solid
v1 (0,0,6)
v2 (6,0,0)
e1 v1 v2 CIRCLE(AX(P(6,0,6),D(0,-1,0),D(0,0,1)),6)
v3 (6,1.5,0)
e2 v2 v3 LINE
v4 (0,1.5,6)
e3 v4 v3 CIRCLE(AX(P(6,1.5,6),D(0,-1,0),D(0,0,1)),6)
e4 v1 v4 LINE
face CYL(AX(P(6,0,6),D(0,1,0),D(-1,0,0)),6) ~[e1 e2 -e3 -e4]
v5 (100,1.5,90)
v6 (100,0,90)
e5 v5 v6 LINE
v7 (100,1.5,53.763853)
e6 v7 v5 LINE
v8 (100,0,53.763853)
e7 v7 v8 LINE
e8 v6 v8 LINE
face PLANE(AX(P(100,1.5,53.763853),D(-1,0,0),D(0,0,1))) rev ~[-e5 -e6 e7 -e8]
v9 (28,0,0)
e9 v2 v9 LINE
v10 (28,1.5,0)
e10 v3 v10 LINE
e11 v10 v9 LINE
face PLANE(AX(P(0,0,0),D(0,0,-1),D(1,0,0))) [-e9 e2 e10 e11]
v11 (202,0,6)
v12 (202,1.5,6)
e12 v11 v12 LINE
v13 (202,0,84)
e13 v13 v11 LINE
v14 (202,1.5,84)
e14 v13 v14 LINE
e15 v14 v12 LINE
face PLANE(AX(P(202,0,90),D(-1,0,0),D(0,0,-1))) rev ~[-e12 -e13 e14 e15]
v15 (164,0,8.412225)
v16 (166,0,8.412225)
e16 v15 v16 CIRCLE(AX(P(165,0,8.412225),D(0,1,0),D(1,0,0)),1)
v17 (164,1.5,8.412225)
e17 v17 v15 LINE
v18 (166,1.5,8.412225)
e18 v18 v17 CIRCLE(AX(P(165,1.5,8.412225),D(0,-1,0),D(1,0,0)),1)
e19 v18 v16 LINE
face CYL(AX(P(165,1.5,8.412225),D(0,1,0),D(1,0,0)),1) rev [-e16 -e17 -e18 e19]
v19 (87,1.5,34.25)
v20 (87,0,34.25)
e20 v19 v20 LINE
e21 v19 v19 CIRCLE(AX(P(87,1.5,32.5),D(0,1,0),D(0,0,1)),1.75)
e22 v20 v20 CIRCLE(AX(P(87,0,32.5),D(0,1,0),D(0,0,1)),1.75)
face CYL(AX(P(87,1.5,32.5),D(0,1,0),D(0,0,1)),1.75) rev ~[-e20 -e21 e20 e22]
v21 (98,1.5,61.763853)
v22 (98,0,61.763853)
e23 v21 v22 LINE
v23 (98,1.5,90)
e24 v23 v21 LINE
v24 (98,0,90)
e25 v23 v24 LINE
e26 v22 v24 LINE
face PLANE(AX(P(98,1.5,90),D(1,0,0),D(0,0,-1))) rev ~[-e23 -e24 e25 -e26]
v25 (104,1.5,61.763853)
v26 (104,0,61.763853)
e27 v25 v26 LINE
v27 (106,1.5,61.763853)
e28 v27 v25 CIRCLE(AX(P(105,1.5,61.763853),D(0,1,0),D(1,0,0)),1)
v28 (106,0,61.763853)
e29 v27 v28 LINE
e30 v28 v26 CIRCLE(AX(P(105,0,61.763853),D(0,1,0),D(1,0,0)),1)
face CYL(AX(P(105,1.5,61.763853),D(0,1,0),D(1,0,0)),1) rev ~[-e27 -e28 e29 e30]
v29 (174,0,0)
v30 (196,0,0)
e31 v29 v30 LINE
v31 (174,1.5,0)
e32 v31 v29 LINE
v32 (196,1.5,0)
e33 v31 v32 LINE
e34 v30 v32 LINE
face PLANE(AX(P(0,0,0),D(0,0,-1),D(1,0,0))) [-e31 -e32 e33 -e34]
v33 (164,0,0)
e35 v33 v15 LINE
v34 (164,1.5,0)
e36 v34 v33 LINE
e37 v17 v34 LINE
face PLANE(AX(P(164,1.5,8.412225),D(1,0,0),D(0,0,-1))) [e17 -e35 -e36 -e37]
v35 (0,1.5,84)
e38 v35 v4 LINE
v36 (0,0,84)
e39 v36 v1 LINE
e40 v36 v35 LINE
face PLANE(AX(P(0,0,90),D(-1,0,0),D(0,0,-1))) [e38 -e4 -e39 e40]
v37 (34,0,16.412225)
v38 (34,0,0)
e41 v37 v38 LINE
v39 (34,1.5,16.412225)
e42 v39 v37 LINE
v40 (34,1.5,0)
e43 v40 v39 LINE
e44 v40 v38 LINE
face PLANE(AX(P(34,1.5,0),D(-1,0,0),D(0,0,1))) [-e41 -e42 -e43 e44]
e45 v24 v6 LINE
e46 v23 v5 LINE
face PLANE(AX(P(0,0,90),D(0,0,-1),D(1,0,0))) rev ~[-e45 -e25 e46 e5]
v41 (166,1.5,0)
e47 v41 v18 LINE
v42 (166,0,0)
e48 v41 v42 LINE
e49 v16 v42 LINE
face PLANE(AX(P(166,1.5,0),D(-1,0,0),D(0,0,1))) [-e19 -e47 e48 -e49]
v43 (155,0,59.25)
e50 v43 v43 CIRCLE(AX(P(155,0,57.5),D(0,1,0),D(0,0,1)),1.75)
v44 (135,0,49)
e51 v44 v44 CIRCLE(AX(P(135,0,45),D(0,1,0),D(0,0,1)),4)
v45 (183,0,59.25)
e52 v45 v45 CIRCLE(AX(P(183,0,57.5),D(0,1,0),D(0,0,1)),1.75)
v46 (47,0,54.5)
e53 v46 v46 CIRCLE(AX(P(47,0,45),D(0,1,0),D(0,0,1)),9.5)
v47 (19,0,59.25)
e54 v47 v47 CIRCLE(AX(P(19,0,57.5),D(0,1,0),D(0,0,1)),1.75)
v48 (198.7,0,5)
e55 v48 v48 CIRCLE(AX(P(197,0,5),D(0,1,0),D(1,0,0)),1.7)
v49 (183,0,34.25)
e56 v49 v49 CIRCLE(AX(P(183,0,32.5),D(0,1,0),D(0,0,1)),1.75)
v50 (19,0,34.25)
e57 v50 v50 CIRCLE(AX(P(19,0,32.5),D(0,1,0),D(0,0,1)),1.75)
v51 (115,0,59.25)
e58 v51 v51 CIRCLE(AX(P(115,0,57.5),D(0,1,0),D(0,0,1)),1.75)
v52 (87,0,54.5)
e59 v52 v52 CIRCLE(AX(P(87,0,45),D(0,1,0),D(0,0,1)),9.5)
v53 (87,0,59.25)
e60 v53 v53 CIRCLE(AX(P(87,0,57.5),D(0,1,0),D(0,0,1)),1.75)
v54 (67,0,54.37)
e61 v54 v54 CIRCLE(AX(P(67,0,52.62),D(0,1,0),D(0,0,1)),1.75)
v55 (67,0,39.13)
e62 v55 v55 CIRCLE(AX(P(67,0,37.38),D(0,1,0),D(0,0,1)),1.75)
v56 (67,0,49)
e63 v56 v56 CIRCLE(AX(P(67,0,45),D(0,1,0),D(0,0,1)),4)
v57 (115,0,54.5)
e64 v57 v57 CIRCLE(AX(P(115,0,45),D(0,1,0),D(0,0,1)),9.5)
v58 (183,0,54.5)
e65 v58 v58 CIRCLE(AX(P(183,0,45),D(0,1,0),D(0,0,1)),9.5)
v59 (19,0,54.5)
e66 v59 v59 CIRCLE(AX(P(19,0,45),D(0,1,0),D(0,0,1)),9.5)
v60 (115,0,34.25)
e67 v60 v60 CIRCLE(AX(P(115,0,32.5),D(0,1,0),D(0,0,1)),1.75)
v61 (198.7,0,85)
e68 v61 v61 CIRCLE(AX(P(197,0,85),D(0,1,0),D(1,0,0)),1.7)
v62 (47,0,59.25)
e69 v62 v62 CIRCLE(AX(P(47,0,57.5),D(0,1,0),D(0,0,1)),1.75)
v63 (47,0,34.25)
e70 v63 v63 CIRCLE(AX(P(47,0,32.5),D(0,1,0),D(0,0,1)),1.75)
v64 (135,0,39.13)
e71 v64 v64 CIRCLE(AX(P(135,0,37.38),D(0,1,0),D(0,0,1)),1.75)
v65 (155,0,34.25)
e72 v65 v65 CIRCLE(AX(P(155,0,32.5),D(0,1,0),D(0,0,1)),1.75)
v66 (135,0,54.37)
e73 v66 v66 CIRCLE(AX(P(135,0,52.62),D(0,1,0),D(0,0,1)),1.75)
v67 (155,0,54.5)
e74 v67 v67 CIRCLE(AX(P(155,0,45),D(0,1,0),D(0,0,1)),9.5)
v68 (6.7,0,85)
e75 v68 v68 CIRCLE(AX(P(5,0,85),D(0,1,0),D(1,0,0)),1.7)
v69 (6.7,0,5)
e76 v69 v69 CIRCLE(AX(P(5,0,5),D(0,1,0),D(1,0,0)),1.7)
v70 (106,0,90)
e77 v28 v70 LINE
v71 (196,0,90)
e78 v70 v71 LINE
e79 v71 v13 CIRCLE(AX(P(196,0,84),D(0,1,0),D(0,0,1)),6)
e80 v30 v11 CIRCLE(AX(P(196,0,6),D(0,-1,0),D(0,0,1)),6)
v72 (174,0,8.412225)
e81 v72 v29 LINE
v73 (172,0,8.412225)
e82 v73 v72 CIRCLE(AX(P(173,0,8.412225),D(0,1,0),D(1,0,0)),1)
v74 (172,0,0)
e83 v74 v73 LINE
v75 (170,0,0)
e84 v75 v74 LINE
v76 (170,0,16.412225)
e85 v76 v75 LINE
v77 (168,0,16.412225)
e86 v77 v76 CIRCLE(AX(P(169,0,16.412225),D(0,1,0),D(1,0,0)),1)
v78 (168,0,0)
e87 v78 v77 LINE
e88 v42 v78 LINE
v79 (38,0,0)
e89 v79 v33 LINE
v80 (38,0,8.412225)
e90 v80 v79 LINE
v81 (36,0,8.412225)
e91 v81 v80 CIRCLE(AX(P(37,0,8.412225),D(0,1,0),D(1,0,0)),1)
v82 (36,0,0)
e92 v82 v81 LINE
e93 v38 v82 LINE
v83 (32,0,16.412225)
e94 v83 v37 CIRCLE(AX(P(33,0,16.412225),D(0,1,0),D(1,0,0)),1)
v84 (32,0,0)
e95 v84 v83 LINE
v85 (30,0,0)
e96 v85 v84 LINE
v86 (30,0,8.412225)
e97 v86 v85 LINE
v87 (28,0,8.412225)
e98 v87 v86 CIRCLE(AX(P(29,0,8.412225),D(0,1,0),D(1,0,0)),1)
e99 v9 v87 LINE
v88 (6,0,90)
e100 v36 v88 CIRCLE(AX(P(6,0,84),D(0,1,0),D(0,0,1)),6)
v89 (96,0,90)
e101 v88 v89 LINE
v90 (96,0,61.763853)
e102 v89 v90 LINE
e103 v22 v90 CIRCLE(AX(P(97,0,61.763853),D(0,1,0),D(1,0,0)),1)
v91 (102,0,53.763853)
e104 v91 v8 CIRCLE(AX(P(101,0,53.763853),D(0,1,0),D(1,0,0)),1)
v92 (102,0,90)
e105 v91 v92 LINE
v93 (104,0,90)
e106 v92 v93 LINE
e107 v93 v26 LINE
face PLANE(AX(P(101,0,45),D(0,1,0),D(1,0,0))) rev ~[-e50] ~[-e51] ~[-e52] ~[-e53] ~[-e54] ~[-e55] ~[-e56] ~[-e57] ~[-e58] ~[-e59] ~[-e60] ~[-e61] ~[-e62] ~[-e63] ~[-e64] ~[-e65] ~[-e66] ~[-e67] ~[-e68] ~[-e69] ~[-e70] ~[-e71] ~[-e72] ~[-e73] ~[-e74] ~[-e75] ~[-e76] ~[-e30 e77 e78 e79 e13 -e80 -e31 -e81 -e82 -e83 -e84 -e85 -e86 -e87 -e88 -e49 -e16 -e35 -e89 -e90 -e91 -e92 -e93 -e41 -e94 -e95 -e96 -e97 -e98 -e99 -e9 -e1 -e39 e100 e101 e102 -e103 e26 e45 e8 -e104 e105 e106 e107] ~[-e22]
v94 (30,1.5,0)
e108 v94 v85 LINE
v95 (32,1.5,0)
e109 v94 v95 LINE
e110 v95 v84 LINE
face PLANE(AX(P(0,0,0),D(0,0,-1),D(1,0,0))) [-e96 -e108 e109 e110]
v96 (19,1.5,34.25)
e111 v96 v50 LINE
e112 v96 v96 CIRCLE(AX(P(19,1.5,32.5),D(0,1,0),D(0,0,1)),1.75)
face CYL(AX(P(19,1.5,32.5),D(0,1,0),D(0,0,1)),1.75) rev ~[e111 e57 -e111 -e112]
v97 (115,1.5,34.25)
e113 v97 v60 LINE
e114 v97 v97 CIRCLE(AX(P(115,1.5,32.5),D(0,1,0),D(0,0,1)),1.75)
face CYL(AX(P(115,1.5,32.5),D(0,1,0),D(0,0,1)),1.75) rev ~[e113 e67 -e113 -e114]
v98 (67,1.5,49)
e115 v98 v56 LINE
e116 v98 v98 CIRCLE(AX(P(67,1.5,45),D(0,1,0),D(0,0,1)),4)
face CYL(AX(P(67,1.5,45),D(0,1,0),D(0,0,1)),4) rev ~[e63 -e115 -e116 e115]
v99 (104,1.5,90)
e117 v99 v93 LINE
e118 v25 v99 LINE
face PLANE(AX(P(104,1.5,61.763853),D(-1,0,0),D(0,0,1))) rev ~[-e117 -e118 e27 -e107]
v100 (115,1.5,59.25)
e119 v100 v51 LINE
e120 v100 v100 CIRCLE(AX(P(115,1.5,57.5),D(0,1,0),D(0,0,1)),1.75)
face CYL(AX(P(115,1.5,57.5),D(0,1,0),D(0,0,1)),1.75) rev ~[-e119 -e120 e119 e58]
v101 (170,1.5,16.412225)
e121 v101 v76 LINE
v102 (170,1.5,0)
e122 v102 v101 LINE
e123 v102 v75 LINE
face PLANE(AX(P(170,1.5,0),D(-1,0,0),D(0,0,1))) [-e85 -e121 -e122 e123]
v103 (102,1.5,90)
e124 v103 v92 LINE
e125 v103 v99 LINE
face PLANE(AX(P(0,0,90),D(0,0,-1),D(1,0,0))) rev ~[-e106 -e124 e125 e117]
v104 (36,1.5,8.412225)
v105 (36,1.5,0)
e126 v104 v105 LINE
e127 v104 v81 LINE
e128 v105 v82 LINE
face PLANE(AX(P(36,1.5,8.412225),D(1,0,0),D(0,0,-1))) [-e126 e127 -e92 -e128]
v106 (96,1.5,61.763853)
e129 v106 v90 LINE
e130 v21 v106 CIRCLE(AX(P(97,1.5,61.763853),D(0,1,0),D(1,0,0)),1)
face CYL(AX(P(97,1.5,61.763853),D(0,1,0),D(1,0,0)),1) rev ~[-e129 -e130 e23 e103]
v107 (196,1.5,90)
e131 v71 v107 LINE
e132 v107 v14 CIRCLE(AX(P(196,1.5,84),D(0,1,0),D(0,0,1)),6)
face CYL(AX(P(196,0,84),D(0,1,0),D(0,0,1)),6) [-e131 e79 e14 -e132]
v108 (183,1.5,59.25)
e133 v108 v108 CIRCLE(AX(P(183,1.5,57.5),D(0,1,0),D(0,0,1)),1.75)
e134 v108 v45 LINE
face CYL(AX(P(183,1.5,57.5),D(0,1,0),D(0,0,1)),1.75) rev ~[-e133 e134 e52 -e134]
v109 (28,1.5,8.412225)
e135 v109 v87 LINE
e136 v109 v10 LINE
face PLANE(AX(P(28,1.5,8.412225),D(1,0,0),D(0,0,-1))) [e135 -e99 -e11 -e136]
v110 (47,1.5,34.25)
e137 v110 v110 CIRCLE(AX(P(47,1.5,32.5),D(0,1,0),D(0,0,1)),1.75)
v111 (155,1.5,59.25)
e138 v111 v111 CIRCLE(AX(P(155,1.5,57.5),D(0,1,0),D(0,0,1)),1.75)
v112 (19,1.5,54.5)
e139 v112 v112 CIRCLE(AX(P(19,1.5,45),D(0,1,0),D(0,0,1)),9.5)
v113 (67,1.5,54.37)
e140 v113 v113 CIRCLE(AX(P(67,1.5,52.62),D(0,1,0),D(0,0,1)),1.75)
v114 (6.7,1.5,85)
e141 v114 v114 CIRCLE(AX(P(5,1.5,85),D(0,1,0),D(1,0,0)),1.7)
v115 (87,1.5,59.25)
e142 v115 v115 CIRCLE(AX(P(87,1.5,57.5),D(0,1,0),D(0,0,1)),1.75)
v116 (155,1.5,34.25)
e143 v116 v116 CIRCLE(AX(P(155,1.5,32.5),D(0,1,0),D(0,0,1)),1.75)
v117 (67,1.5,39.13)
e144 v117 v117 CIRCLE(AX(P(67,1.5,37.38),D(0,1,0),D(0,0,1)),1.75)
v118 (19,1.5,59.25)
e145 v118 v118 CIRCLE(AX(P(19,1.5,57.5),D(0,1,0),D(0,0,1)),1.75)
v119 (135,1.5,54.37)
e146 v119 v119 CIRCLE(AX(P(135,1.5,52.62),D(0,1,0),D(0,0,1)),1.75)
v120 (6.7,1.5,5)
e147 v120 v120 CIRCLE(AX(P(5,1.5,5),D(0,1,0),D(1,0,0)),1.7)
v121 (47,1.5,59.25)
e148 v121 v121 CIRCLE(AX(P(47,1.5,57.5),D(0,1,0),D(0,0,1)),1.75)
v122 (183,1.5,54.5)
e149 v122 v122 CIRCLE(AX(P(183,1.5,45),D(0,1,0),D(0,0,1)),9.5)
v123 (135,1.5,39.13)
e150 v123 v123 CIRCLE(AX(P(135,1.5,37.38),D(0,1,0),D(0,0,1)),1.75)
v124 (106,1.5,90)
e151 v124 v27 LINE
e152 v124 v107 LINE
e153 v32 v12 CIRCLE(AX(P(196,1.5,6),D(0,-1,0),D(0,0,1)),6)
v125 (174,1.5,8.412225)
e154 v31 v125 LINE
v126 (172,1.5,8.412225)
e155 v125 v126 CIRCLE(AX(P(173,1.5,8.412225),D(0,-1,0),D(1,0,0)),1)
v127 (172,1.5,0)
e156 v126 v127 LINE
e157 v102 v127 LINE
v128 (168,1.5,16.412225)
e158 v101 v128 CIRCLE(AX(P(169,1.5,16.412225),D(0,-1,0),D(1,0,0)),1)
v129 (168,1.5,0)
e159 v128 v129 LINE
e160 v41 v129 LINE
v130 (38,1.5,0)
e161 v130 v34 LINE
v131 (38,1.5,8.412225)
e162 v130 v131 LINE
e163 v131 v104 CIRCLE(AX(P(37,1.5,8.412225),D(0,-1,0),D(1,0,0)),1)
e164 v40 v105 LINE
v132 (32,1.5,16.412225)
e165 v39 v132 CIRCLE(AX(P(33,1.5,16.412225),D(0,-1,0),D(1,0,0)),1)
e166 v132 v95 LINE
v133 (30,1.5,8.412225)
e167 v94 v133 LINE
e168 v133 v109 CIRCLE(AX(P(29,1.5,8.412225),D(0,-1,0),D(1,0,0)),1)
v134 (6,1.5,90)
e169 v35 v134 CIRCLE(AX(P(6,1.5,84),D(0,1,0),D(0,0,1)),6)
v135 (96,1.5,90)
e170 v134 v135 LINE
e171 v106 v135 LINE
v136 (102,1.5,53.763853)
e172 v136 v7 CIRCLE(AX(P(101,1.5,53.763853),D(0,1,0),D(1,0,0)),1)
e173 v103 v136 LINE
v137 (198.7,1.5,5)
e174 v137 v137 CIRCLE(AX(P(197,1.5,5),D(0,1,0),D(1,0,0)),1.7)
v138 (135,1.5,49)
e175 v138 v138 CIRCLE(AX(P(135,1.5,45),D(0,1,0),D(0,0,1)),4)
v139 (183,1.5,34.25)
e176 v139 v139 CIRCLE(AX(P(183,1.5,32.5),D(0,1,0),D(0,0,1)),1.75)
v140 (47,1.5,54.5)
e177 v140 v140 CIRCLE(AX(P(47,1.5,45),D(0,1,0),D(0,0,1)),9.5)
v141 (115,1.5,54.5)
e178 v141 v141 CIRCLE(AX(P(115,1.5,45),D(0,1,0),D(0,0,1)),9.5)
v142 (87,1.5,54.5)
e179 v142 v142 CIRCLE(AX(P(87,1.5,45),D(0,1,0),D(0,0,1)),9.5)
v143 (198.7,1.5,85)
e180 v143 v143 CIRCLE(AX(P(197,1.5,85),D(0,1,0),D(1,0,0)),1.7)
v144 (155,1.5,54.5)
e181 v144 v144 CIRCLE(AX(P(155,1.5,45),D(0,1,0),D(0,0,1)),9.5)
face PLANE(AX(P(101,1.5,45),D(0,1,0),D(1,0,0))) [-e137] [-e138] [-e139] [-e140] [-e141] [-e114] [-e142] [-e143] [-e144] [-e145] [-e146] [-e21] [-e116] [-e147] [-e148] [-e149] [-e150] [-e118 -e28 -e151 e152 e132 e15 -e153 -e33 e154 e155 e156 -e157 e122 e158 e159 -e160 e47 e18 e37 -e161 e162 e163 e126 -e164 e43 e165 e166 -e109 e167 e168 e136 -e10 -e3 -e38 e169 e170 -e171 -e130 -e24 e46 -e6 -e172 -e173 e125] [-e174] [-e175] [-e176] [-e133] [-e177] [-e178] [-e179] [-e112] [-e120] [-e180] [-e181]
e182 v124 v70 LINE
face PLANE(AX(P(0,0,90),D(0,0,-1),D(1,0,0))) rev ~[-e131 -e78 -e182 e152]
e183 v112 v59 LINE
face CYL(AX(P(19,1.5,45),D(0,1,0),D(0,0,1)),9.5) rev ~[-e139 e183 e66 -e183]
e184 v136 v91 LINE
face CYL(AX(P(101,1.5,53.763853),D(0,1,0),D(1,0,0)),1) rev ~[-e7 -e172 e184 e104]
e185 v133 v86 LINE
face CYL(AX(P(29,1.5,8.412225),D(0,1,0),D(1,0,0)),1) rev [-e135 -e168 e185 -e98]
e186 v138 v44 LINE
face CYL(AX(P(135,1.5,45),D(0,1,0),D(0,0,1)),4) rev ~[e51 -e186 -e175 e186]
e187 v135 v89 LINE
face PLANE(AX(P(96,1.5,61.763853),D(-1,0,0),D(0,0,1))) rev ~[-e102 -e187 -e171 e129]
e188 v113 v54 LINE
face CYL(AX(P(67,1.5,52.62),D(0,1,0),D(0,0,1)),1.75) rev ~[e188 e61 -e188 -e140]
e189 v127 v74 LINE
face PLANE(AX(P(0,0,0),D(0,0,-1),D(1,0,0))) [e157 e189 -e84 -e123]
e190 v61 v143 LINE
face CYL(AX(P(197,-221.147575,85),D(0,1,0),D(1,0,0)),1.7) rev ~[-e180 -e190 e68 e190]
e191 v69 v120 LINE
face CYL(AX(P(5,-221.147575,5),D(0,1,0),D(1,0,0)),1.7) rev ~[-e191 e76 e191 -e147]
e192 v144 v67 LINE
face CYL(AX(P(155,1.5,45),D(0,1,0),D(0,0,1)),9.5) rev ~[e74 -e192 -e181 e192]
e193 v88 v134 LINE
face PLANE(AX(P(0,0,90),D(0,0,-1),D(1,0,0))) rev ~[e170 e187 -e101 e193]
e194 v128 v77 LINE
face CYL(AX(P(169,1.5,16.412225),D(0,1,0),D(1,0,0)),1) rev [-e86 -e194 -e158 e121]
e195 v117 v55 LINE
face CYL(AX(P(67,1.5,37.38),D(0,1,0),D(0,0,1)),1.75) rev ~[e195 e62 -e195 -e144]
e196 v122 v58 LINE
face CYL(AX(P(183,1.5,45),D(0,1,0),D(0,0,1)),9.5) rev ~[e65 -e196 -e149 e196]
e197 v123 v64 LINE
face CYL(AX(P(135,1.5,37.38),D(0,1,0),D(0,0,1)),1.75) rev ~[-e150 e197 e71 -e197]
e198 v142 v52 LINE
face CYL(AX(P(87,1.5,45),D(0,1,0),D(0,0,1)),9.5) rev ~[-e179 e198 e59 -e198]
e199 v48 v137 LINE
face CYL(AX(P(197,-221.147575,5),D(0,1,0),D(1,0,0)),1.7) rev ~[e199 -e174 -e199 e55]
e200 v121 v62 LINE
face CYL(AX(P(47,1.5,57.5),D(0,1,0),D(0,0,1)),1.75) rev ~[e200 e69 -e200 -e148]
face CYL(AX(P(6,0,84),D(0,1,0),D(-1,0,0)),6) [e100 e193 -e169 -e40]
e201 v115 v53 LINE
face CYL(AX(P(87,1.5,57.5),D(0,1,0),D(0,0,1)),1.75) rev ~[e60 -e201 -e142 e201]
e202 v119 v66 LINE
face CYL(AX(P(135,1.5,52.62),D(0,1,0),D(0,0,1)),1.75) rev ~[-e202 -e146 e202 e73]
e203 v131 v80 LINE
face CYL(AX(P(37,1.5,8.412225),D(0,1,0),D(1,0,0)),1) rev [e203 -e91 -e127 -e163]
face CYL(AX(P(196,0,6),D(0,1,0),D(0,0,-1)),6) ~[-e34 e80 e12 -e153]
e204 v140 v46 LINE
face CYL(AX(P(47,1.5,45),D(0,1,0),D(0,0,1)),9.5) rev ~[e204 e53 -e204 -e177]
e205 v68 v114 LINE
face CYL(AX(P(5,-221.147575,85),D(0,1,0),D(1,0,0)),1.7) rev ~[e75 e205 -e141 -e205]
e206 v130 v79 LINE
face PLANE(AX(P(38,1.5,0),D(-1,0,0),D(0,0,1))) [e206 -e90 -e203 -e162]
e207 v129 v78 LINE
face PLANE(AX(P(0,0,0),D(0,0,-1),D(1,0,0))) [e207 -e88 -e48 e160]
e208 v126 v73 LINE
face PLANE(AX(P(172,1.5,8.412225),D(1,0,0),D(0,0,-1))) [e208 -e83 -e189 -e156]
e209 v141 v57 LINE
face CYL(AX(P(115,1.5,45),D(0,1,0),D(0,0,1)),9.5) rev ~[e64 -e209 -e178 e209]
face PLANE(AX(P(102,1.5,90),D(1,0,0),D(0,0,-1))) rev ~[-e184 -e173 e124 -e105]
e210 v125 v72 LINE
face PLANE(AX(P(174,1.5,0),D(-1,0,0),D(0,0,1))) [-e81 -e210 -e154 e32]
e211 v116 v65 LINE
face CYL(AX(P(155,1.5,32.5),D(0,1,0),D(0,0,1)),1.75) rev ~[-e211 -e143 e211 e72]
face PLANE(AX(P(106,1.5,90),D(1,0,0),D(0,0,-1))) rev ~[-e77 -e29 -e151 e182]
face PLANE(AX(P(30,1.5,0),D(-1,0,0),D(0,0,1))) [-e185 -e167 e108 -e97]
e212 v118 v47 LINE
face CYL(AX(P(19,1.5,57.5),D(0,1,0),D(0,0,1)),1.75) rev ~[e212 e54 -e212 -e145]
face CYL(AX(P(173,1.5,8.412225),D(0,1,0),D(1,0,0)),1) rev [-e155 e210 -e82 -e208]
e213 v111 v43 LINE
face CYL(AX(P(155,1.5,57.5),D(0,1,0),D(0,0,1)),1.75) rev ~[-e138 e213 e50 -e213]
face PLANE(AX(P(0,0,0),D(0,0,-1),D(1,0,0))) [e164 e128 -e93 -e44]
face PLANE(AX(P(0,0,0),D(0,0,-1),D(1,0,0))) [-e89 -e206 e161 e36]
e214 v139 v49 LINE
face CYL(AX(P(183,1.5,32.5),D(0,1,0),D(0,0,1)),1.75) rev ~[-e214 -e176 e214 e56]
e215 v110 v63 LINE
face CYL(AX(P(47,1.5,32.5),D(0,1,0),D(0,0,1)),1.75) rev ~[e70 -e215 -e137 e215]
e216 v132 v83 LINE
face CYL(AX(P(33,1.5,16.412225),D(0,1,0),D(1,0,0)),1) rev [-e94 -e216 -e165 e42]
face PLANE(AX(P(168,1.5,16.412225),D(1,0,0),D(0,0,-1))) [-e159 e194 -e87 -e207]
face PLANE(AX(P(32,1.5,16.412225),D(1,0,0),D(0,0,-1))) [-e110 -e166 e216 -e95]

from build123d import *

# Parameters (mm, degrees)
ESQUISSE1_W             = 202
ESQUISSE1_H             = 90
BOSS_EXTRU_1_DEPTH      = 1.5
ENL_V_MAT_EXTRU_1_REACH = 223.148
ESQUISSE2_R             = 9.5
ESQUISSE2_R_2           = 4
ESQUISSE2_R_3           = 1.75
D_GAGEMENT_M31_D        = 3.4
CONG_1_R                = 6
ENL_V_MAT_EXTRU_3_REACH = 223.148


with BuildPart() as part:
    # Esquisse1 → Boss.-Extru.1 (new body)
    with BuildSketch(Plane(origin=(0, 0, 0), x_dir=(1, 0, 0), z_dir=(0, 1, 0))):
        with Locations((101, -45)):
            Rectangle(ESQUISSE1_W, ESQUISSE1_H)
    extrude(amount=BOSS_EXTRU_1_DEPTH)

    # Esquisse2 → Enlèv. mat.-Extru.1 (cut, up to next)
    with BuildSketch(Plane(origin=(0, 1.5, 0), x_dir=(1, 0, 0), z_dir=(0, 1, 0)), mode=Mode.PRIVATE) as enl_v_mat_extru_1_sk1:
        with Locations(Location((115, -45, 0), (0, 0, 270))):
            Circle(ESQUISSE2_R)
    enl_v_mat_extru_1_tool1 = extrude(enl_v_mat_extru_1_sk1.sketch, amount=-ENL_V_MAT_EXTRU_1_REACH, mode=Mode.PRIVATE) & part.part
    # Esquisse2 → Enlèv. mat.-Extru.1 (cut, up to next)
    with BuildSketch(Plane(origin=(0, 1.5, 0), x_dir=(1, 0, 0), z_dir=(0, 1, 0)), mode=Mode.PRIVATE) as enl_v_mat_extru_1_sk2:
        with Locations(Location((87, -45, 0), (0, 0, 270))):
            Circle(ESQUISSE2_R)
    enl_v_mat_extru_1_tool2 = extrude(enl_v_mat_extru_1_sk2.sketch, amount=-ENL_V_MAT_EXTRU_1_REACH, mode=Mode.PRIVATE) & part.part
    # Esquisse2 → Enlèv. mat.-Extru.1 (cut, up to next)
    with BuildSketch(Plane(origin=(0, 1.5, 0), x_dir=(1, 0, 0), z_dir=(0, 1, 0)), mode=Mode.PRIVATE) as enl_v_mat_extru_1_sk3:
        with Locations(Location((155, -45, 0), (0, 0, 270))):
            Circle(ESQUISSE2_R)
    enl_v_mat_extru_1_tool3 = extrude(enl_v_mat_extru_1_sk3.sketch, amount=-ENL_V_MAT_EXTRU_1_REACH, mode=Mode.PRIVATE) & part.part
    # Esquisse2 → Enlèv. mat.-Extru.1 (cut, up to next)
    with BuildSketch(Plane(origin=(0, 1.5, 0), x_dir=(1, 0, 0), z_dir=(0, 1, 0)), mode=Mode.PRIVATE) as enl_v_mat_extru_1_sk4:
        with Locations(Location((183, -45, 0), (0, 0, 270))):
            Circle(ESQUISSE2_R)
    enl_v_mat_extru_1_tool4 = extrude(enl_v_mat_extru_1_sk4.sketch, amount=-ENL_V_MAT_EXTRU_1_REACH, mode=Mode.PRIVATE) & part.part
    # Esquisse2 → Enlèv. mat.-Extru.1 (cut, up to next)
    with BuildSketch(Plane(origin=(0, 1.5, 0), x_dir=(1, 0, 0), z_dir=(0, 1, 0)), mode=Mode.PRIVATE) as enl_v_mat_extru_1_sk5:
        with Locations(Location((47, -45, 0), (0, 0, 270))):
            Circle(ESQUISSE2_R)
    enl_v_mat_extru_1_tool5 = extrude(enl_v_mat_extru_1_sk5.sketch, amount=-ENL_V_MAT_EXTRU_1_REACH, mode=Mode.PRIVATE) & part.part
    # Esquisse2 → Enlèv. mat.-Extru.1 (cut, up to next)
    with BuildSketch(Plane(origin=(0, 1.5, 0), x_dir=(1, 0, 0), z_dir=(0, 1, 0)), mode=Mode.PRIVATE) as enl_v_mat_extru_1_sk6:
        with Locations(Location((19, -45, 0), (0, 0, 270))):
            Circle(ESQUISSE2_R)
    enl_v_mat_extru_1_tool6 = extrude(enl_v_mat_extru_1_sk6.sketch, amount=-ENL_V_MAT_EXTRU_1_REACH, mode=Mode.PRIVATE) & part.part
    # Esquisse2 → Enlèv. mat.-Extru.1 (cut, up to next)
    with BuildSketch(Plane(origin=(0, 1.5, 0), x_dir=(1, 0, 0), z_dir=(0, 1, 0)), mode=Mode.PRIVATE) as enl_v_mat_extru_1_sk7:
        with Locations(Location((67, -45, 0), (0, 0, 270))):
            Circle(ESQUISSE2_R_2)
    enl_v_mat_extru_1_tool7 = extrude(enl_v_mat_extru_1_sk7.sketch, amount=-ENL_V_MAT_EXTRU_1_REACH, mode=Mode.PRIVATE) & part.part
    # Esquisse2 → Enlèv. mat.-Extru.1 (cut, up to next)
    with BuildSketch(Plane(origin=(0, 1.5, 0), x_dir=(1, 0, 0), z_dir=(0, 1, 0)), mode=Mode.PRIVATE) as enl_v_mat_extru_1_sk8:
        with Locations(Location((135, -45, 0), (0, 0, 270))):
            Circle(ESQUISSE2_R_2)
    enl_v_mat_extru_1_tool8 = extrude(enl_v_mat_extru_1_sk8.sketch, amount=-ENL_V_MAT_EXTRU_1_REACH, mode=Mode.PRIVATE) & part.part
    # Esquisse2 → Enlèv. mat.-Extru.1 (cut, up to next)
    with BuildSketch(Plane(origin=(0, 1.5, 0), x_dir=(1, 0, 0), z_dir=(0, 1, 0)), mode=Mode.PRIVATE) as enl_v_mat_extru_1_sk9:
        with Locations(Location((19, -57.5, 0), (0, 0, 270))):
            Circle(ESQUISSE2_R_3)
    enl_v_mat_extru_1_tool9 = extrude(enl_v_mat_extru_1_sk9.sketch, amount=-ENL_V_MAT_EXTRU_1_REACH, mode=Mode.PRIVATE) & part.part
    # Esquisse2 → Enlèv. mat.-Extru.1 (cut, up to next)
    with BuildSketch(Plane(origin=(0, 1.5, 0), x_dir=(1, 0, 0), z_dir=(0, 1, 0)), mode=Mode.PRIVATE) as enl_v_mat_extru_1_sk10:
        with Locations(Location((19, -32.5, 0), (0, 0, 270))):
            Circle(ESQUISSE2_R_3)
    enl_v_mat_extru_1_tool10 = extrude(enl_v_mat_extru_1_sk10.sketch, amount=-ENL_V_MAT_EXTRU_1_REACH, mode=Mode.PRIVATE) & part.part
    # Esquisse2 → Enlèv. mat.-Extru.1 (cut, up to next)
    with BuildSketch(Plane(origin=(0, 1.5, 0), x_dir=(1, 0, 0), z_dir=(0, 1, 0)), mode=Mode.PRIVATE) as enl_v_mat_extru_1_sk11:
        with Locations(Location((47, -57.5, 0), (0, 0, 270))):
            Circle(ESQUISSE2_R_3)
    enl_v_mat_extru_1_tool11 = extrude(enl_v_mat_extru_1_sk11.sketch, amount=-ENL_V_MAT_EXTRU_1_REACH, mode=Mode.PRIVATE) & part.part
    # Esquisse2 → Enlèv. mat.-Extru.1 (cut, up to next)
    with BuildSketch(Plane(origin=(0, 1.5, 0), x_dir=(1, 0, 0), z_dir=(0, 1, 0)), mode=Mode.PRIVATE) as enl_v_mat_extru_1_sk12:
        with Locations(Location((47, -32.5, 0), (0, 0, 270))):
            Circle(ESQUISSE2_R_3)
    enl_v_mat_extru_1_tool12 = extrude(enl_v_mat_extru_1_sk12.sketch, amount=-ENL_V_MAT_EXTRU_1_REACH, mode=Mode.PRIVATE) & part.part
    # Esquisse2 → Enlèv. mat.-Extru.1 (cut, up to next)
    with BuildSketch(Plane(origin=(0, 1.5, 0), x_dir=(1, 0, 0), z_dir=(0, 1, 0)), mode=Mode.PRIVATE) as enl_v_mat_extru_1_sk13:
        with Locations(Location((87, -57.5, 0), (0, 0, 270))):
            Circle(ESQUISSE2_R_3)
    enl_v_mat_extru_1_tool13 = extrude(enl_v_mat_extru_1_sk13.sketch, amount=-ENL_V_MAT_EXTRU_1_REACH, mode=Mode.PRIVATE) & part.part
    # Esquisse2 → Enlèv. mat.-Extru.1 (cut, up to next)
    with BuildSketch(Plane(origin=(0, 1.5, 0), x_dir=(1, 0, 0), z_dir=(0, 1, 0)), mode=Mode.PRIVATE) as enl_v_mat_extru_1_sk14:
        with Locations(Location((87, -32.5, 0), (0, 0, 270))):
            Circle(ESQUISSE2_R_3)
    enl_v_mat_extru_1_tool14 = extrude(enl_v_mat_extru_1_sk14.sketch, amount=-ENL_V_MAT_EXTRU_1_REACH, mode=Mode.PRIVATE) & part.part
    # Esquisse2 → Enlèv. mat.-Extru.1 (cut, up to next)
    with BuildSketch(Plane(origin=(0, 1.5, 0), x_dir=(1, 0, 0), z_dir=(0, 1, 0)), mode=Mode.PRIVATE) as enl_v_mat_extru_1_sk15:
        with Locations(Location((115, -32.5, 0), (0, 0, 270))):
            Circle(ESQUISSE2_R_3)
    enl_v_mat_extru_1_tool15 = extrude(enl_v_mat_extru_1_sk15.sketch, amount=-ENL_V_MAT_EXTRU_1_REACH, mode=Mode.PRIVATE) & part.part
    # Esquisse2 → Enlèv. mat.-Extru.1 (cut, up to next)
    with BuildSketch(Plane(origin=(0, 1.5, 0), x_dir=(1, 0, 0), z_dir=(0, 1, 0)), mode=Mode.PRIVATE) as enl_v_mat_extru_1_sk16:
        with Locations(Location((115, -57.5, 0), (0, 0, 270))):
            Circle(ESQUISSE2_R_3)
    enl_v_mat_extru_1_tool16 = extrude(enl_v_mat_extru_1_sk16.sketch, amount=-ENL_V_MAT_EXTRU_1_REACH, mode=Mode.PRIVATE) & part.part
    # Esquisse2 → Enlèv. mat.-Extru.1 (cut, up to next)
    with BuildSketch(Plane(origin=(0, 1.5, 0), x_dir=(1, 0, 0), z_dir=(0, 1, 0)), mode=Mode.PRIVATE) as enl_v_mat_extru_1_sk17:
        with Locations(Location((155, -57.5, 0), (0, 0, 270))):
            Circle(ESQUISSE2_R_3)
    enl_v_mat_extru_1_tool17 = extrude(enl_v_mat_extru_1_sk17.sketch, amount=-ENL_V_MAT_EXTRU_1_REACH, mode=Mode.PRIVATE) & part.part
    # Esquisse2 → Enlèv. mat.-Extru.1 (cut, up to next)
    with BuildSketch(Plane(origin=(0, 1.5, 0), x_dir=(1, 0, 0), z_dir=(0, 1, 0)), mode=Mode.PRIVATE) as enl_v_mat_extru_1_sk18:
        with Locations(Location((155, -32.5, 0), (0, 0, 270))):
            Circle(ESQUISSE2_R_3)
    enl_v_mat_extru_1_tool18 = extrude(enl_v_mat_extru_1_sk18.sketch, amount=-ENL_V_MAT_EXTRU_1_REACH, mode=Mode.PRIVATE) & part.part
    # Esquisse2 → Enlèv. mat.-Extru.1 (cut, up to next)
    with BuildSketch(Plane(origin=(0, 1.5, 0), x_dir=(1, 0, 0), z_dir=(0, 1, 0)), mode=Mode.PRIVATE) as enl_v_mat_extru_1_sk19:
        with Locations(Location((183, -32.5, 0), (0, 0, 270))):
            Circle(ESQUISSE2_R_3)
    enl_v_mat_extru_1_tool19 = extrude(enl_v_mat_extru_1_sk19.sketch, amount=-ENL_V_MAT_EXTRU_1_REACH, mode=Mode.PRIVATE) & part.part
    # Esquisse2 → Enlèv. mat.-Extru.1 (cut, up to next)
    with BuildSketch(Plane(origin=(0, 1.5, 0), x_dir=(1, 0, 0), z_dir=(0, 1, 0)), mode=Mode.PRIVATE) as enl_v_mat_extru_1_sk20:
        with Locations(Location((183, -57.5, 0), (0, 0, 270))):
            Circle(ESQUISSE2_R_3)
    enl_v_mat_extru_1_tool20 = extrude(enl_v_mat_extru_1_sk20.sketch, amount=-ENL_V_MAT_EXTRU_1_REACH, mode=Mode.PRIVATE) & part.part
    # Esquisse2 → Enlèv. mat.-Extru.1 (cut, up to next)
    with BuildSketch(Plane(origin=(0, 1.5, 0), x_dir=(1, 0, 0), z_dir=(0, 1, 0)), mode=Mode.PRIVATE) as enl_v_mat_extru_1_sk21:
        with Locations(Location((67, -52.62, 0), (0, 0, 270))):
            Circle(ESQUISSE2_R_3)
    enl_v_mat_extru_1_tool21 = extrude(enl_v_mat_extru_1_sk21.sketch, amount=-ENL_V_MAT_EXTRU_1_REACH, mode=Mode.PRIVATE) & part.part
    # Esquisse2 → Enlèv. mat.-Extru.1 (cut, up to next)
    with BuildSketch(Plane(origin=(0, 1.5, 0), x_dir=(1, 0, 0), z_dir=(0, 1, 0)), mode=Mode.PRIVATE) as enl_v_mat_extru_1_sk22:
        with Locations(Location((67, -37.38, 0), (0, 0, 270))):
            Circle(ESQUISSE2_R_3)
    enl_v_mat_extru_1_tool22 = extrude(enl_v_mat_extru_1_sk22.sketch, amount=-ENL_V_MAT_EXTRU_1_REACH, mode=Mode.PRIVATE) & part.part
    # Esquisse2 → Enlèv. mat.-Extru.1 (cut, up to next)
    with BuildSketch(Plane(origin=(0, 1.5, 0), x_dir=(1, 0, 0), z_dir=(0, 1, 0)), mode=Mode.PRIVATE) as enl_v_mat_extru_1_sk23:
        with Locations(Location((135, -37.38, 0), (0, 0, 270))):
            Circle(ESQUISSE2_R_3)
    enl_v_mat_extru_1_tool23 = extrude(enl_v_mat_extru_1_sk23.sketch, amount=-ENL_V_MAT_EXTRU_1_REACH, mode=Mode.PRIVATE) & part.part
    # Esquisse2 → Enlèv. mat.-Extru.1 (cut, up to next)
    with BuildSketch(Plane(origin=(0, 1.5, 0), x_dir=(1, 0, 0), z_dir=(0, 1, 0)), mode=Mode.PRIVATE) as enl_v_mat_extru_1_sk24:
        with Locations(Location((135, -52.62, 0), (0, 0, 270))):
            Circle(ESQUISSE2_R_3)
    enl_v_mat_extru_1_tool24 = extrude(enl_v_mat_extru_1_sk24.sketch, amount=-ENL_V_MAT_EXTRU_1_REACH, mode=Mode.PRIVATE) & part.part
    add(enl_v_mat_extru_1_tool1.solids().sort_by_distance((115, 1.5, 45))[0], mode=Mode.SUBTRACT)
    add(enl_v_mat_extru_1_tool2.solids().sort_by_distance((87, 1.5, 45))[0], mode=Mode.SUBTRACT)
    add(enl_v_mat_extru_1_tool3.solids().sort_by_distance((155, 1.5, 45))[0], mode=Mode.SUBTRACT)
    add(enl_v_mat_extru_1_tool4.solids().sort_by_distance((183, 1.5, 45))[0], mode=Mode.SUBTRACT)
    add(enl_v_mat_extru_1_tool5.solids().sort_by_distance((47, 1.5, 45))[0], mode=Mode.SUBTRACT)
    add(enl_v_mat_extru_1_tool6.solids().sort_by_distance((19, 1.5, 45))[0], mode=Mode.SUBTRACT)
    add(enl_v_mat_extru_1_tool7.solids().sort_by_distance((67, 1.5, 45))[0], mode=Mode.SUBTRACT)
    add(enl_v_mat_extru_1_tool8.solids().sort_by_distance((135, 1.5, 45))[0], mode=Mode.SUBTRACT)
    add(enl_v_mat_extru_1_tool9.solids().sort_by_distance((19, 1.5, 57.5))[0], mode=Mode.SUBTRACT)
    add(enl_v_mat_extru_1_tool10.solids().sort_by_distance((19, 1.5, 32.5))[0], mode=Mode.SUBTRACT)
    add(enl_v_mat_extru_1_tool11.solids().sort_by_distance((47, 1.5, 57.5))[0], mode=Mode.SUBTRACT)
    add(enl_v_mat_extru_1_tool12.solids().sort_by_distance((47, 1.5, 32.5))[0], mode=Mode.SUBTRACT)
    add(enl_v_mat_extru_1_tool13.solids().sort_by_distance((87, 1.5, 57.5))[0], mode=Mode.SUBTRACT)
    add(enl_v_mat_extru_1_tool14.solids().sort_by_distance((87, 1.5, 32.5))[0], mode=Mode.SUBTRACT)
    add(enl_v_mat_extru_1_tool15.solids().sort_by_distance((115, 1.5, 32.5))[0], mode=Mode.SUBTRACT)
    add(enl_v_mat_extru_1_tool16.solids().sort_by_distance((115, 1.5, 57.5))[0], mode=Mode.SUBTRACT)
    add(enl_v_mat_extru_1_tool17.solids().sort_by_distance((155, 1.5, 57.5))[0], mode=Mode.SUBTRACT)
    add(enl_v_mat_extru_1_tool18.solids().sort_by_distance((155, 1.5, 32.5))[0], mode=Mode.SUBTRACT)
    add(enl_v_mat_extru_1_tool19.solids().sort_by_distance((183, 1.5, 32.5))[0], mode=Mode.SUBTRACT)
    add(enl_v_mat_extru_1_tool20.solids().sort_by_distance((183, 1.5, 57.5))[0], mode=Mode.SUBTRACT)
    add(enl_v_mat_extru_1_tool21.solids().sort_by_distance((67, 1.5, 52.62))[0], mode=Mode.SUBTRACT)
    add(enl_v_mat_extru_1_tool22.solids().sort_by_distance((67, 1.5, 37.38))[0], mode=Mode.SUBTRACT)
    add(enl_v_mat_extru_1_tool23.solids().sort_by_distance((135, 1.5, 37.38))[0], mode=Mode.SUBTRACT)
    add(enl_v_mat_extru_1_tool24.solids().sort_by_distance((135, 1.5, 52.62))[0], mode=Mode.SUBTRACT)

    # Dégagement M31 (through all)
    with Locations(Plane(origin=(0, 0, 0), x_dir=(-1, 0, 0), z_dir=(0, -1, 0))):
        with Locations((-5, -85), (-5, -5), (-197, -5), (-197, -85)):
            Hole(D_GAGEMENT_M31_D / 2)

    # Congé1
    cong_1_edges = [part.edges().sort_by_distance(p)[0] for p in [
        (0, 0.75, 0),
        (202, 0.75, 0),
        (202, 0.75, 90),
        (0, 0.75, 90),
    ]]
    fillet(cong_1_edges, radius=CONG_1_R)

    # Esquisse6 → Enlèv. mat.-Extru.3 (cut, up to next)
    with BuildSketch(Plane(origin=(0, 1.5, 0), x_dir=(1, 0, 0), z_dir=(0, 1, 0)), mode=Mode.PRIVATE) as enl_v_mat_extru_3_sk1:
        with BuildLine():
            Line((100, -90), (102, -90))
            Line((102, -90), (102, -53.763853049))
            ThreePointArc((102, -53.763853049), (101, -52.763853049), (100, -53.763853049))
            Line((100, -53.763853049), (100, -90))
        make_face()
    enl_v_mat_extru_3_tool1 = extrude(enl_v_mat_extru_3_sk1.sketch, amount=-ENL_V_MAT_EXTRU_3_REACH, mode=Mode.PRIVATE) & part.part
    # Esquisse6 → Enlèv. mat.-Extru.3 (cut, up to next)
    with BuildSketch(Plane(origin=(0, 1.5, 0), x_dir=(1, 0, 0), z_dir=(0, 1, 0)), mode=Mode.PRIVATE) as enl_v_mat_extru_3_sk2:
        with BuildLine():
            Line((96, -61.763853049), (96, -90))
            Line((96, -90), (98, -90))
            Line((98, -90), (98, -61.763853049))
            ThreePointArc((98, -61.763853049), (97, -60.763853049), (96, -61.763853049))
        make_face()
    enl_v_mat_extru_3_tool2 = extrude(enl_v_mat_extru_3_sk2.sketch, amount=-ENL_V_MAT_EXTRU_3_REACH, mode=Mode.PRIVATE) & part.part
    # Esquisse6 → Enlèv. mat.-Extru.3 (cut, up to next)
    with BuildSketch(Plane(origin=(0, 1.5, 0), x_dir=(1, 0, 0), z_dir=(0, 1, 0)), mode=Mode.PRIVATE) as enl_v_mat_extru_3_sk3:
        with BuildLine():
            Line((104, -61.763853049), (104, -90))
            Line((104, -90), (106, -90))
            Line((106, -90), (106, -61.763853049))
            ThreePointArc((106, -61.763853049), (105, -60.763853049), (104, -61.763853049))
        make_face()
    enl_v_mat_extru_3_tool3 = extrude(enl_v_mat_extru_3_sk3.sketch, amount=-ENL_V_MAT_EXTRU_3_REACH, mode=Mode.PRIVATE) & part.part
    # Esquisse6 → Enlèv. mat.-Extru.3 (cut, up to next)
    with BuildSketch(Plane(origin=(0, 1.5, 0), x_dir=(1, 0, 0), z_dir=(0, 1, 0)), mode=Mode.PRIVATE) as enl_v_mat_extru_3_sk4:
        with BuildLine():
            Line((32, 0), (34, 0))
            Line((34, 0), (34, -16.412224746))
            ThreePointArc((34, -16.412224746), (33, -17.412224746), (32, -16.412224746))
            Line((32, -16.412224746), (32, 0))
        make_face()
    enl_v_mat_extru_3_tool4 = extrude(enl_v_mat_extru_3_sk4.sketch, amount=-ENL_V_MAT_EXTRU_3_REACH, mode=Mode.PRIVATE) & part.part
    # Esquisse6 → Enlèv. mat.-Extru.3 (cut, up to next)
    with BuildSketch(Plane(origin=(0, 1.5, 0), x_dir=(1, 0, 0), z_dir=(0, 1, 0)), mode=Mode.PRIVATE) as enl_v_mat_extru_3_sk5:
        with BuildLine():
            Line((36, 0), (38, 0))
            Line((38, 0), (38, -8.412224746))
            ThreePointArc((38, -8.412224746), (37, -9.412224746), (36, -8.412224746))
            Line((36, -8.412224746), (36, 0))
        make_face()
    enl_v_mat_extru_3_tool5 = extrude(enl_v_mat_extru_3_sk5.sketch, amount=-ENL_V_MAT_EXTRU_3_REACH, mode=Mode.PRIVATE) & part.part
    # Esquisse6 → Enlèv. mat.-Extru.3 (cut, up to next)
    with BuildSketch(Plane(origin=(0, 1.5, 0), x_dir=(1, 0, 0), z_dir=(0, 1, 0)), mode=Mode.PRIVATE) as enl_v_mat_extru_3_sk6:
        with BuildLine():
            Line((28, 0), (30, 0))
            Line((30, 0), (30, -8.412224746))
            ThreePointArc((30, -8.412224746), (29, -9.412224746), (28, -8.412224746))
            Line((28, -8.412224746), (28, 0))
        make_face()
    enl_v_mat_extru_3_tool6 = extrude(enl_v_mat_extru_3_sk6.sketch, amount=-ENL_V_MAT_EXTRU_3_REACH, mode=Mode.PRIVATE) & part.part
    # Esquisse6 → Enlèv. mat.-Extru.3 (cut, up to next)
    with BuildSketch(Plane(origin=(0, 1.5, 0), x_dir=(1, 0, 0), z_dir=(0, 1, 0)), mode=Mode.PRIVATE) as enl_v_mat_extru_3_sk7:
        with BuildLine():
            Line((168, 0), (170, 0))
            Line((170, 0), (170, -16.412224746))
            ThreePointArc((170, -16.412224746), (169, -17.412224746), (168, -16.412224746))
            Line((168, -16.412224746), (168, 0))
        make_face()
    enl_v_mat_extru_3_tool7 = extrude(enl_v_mat_extru_3_sk7.sketch, amount=-ENL_V_MAT_EXTRU_3_REACH, mode=Mode.PRIVATE) & part.part
    # Esquisse6 → Enlèv. mat.-Extru.3 (cut, up to next)
    with BuildSketch(Plane(origin=(0, 1.5, 0), x_dir=(1, 0, 0), z_dir=(0, 1, 0)), mode=Mode.PRIVATE) as enl_v_mat_extru_3_sk8:
        with BuildLine():
            Line((172, 0), (174, 0))
            Line((174, 0), (174, -8.412224746))
            ThreePointArc((174, -8.412224746), (173, -9.412224746), (172, -8.412224746))
            Line((172, -8.412224746), (172, 0))
        make_face()
    enl_v_mat_extru_3_tool8 = extrude(enl_v_mat_extru_3_sk8.sketch, amount=-ENL_V_MAT_EXTRU_3_REACH, mode=Mode.PRIVATE) & part.part
    # Esquisse6 → Enlèv. mat.-Extru.3 (cut, up to next)
    with BuildSketch(Plane(origin=(0, 1.5, 0), x_dir=(1, 0, 0), z_dir=(0, 1, 0)), mode=Mode.PRIVATE) as enl_v_mat_extru_3_sk9:
        with BuildLine():
            Line((164, 0), (166, 0))
            Line((166, 0), (166, -8.412224746))
            ThreePointArc((166, -8.412224746), (165, -9.412224746), (164, -8.412224746))
            Line((164, -8.412224746), (164, 0))
        make_face()
    enl_v_mat_extru_3_tool9 = extrude(enl_v_mat_extru_3_sk9.sketch, amount=-ENL_V_MAT_EXTRU_3_REACH, mode=Mode.PRIVATE) & part.part
    add(enl_v_mat_extru_3_tool1.solids().sort_by_distance((101, 1.5, 71.488555))[0], mode=Mode.SUBTRACT)
    add(enl_v_mat_extru_3_tool2.solids().sort_by_distance((97, 1.5, 75.488369))[0], mode=Mode.SUBTRACT)
    add(enl_v_mat_extru_3_tool3.solids().sort_by_distance((105, 1.5, 75.488369))[0], mode=Mode.SUBTRACT)
    add(enl_v_mat_extru_3_tool4.solids().sort_by_distance((33, 1.5, 8.60026))[0], mode=Mode.SUBTRACT)
    add(enl_v_mat_extru_3_tool5.solids().sort_by_distance((37, 1.5, 4.60152))[0], mode=Mode.SUBTRACT)
    add(enl_v_mat_extru_3_tool6.solids().sort_by_distance((29, 1.5, 4.60152))[0], mode=Mode.SUBTRACT)
    add(enl_v_mat_extru_3_tool7.solids().sort_by_distance((169, 1.5, 8.60026))[0], mode=Mode.SUBTRACT)
    add(enl_v_mat_extru_3_tool8.solids().sort_by_distance((173, 1.5, 4.60152))[0], mode=Mode.SUBTRACT)
    add(enl_v_mat_extru_3_tool9.solids().sort_by_distance((165, 1.5, 4.60152))[0], mode=Mode.SUBTRACT)


solid = part.part
